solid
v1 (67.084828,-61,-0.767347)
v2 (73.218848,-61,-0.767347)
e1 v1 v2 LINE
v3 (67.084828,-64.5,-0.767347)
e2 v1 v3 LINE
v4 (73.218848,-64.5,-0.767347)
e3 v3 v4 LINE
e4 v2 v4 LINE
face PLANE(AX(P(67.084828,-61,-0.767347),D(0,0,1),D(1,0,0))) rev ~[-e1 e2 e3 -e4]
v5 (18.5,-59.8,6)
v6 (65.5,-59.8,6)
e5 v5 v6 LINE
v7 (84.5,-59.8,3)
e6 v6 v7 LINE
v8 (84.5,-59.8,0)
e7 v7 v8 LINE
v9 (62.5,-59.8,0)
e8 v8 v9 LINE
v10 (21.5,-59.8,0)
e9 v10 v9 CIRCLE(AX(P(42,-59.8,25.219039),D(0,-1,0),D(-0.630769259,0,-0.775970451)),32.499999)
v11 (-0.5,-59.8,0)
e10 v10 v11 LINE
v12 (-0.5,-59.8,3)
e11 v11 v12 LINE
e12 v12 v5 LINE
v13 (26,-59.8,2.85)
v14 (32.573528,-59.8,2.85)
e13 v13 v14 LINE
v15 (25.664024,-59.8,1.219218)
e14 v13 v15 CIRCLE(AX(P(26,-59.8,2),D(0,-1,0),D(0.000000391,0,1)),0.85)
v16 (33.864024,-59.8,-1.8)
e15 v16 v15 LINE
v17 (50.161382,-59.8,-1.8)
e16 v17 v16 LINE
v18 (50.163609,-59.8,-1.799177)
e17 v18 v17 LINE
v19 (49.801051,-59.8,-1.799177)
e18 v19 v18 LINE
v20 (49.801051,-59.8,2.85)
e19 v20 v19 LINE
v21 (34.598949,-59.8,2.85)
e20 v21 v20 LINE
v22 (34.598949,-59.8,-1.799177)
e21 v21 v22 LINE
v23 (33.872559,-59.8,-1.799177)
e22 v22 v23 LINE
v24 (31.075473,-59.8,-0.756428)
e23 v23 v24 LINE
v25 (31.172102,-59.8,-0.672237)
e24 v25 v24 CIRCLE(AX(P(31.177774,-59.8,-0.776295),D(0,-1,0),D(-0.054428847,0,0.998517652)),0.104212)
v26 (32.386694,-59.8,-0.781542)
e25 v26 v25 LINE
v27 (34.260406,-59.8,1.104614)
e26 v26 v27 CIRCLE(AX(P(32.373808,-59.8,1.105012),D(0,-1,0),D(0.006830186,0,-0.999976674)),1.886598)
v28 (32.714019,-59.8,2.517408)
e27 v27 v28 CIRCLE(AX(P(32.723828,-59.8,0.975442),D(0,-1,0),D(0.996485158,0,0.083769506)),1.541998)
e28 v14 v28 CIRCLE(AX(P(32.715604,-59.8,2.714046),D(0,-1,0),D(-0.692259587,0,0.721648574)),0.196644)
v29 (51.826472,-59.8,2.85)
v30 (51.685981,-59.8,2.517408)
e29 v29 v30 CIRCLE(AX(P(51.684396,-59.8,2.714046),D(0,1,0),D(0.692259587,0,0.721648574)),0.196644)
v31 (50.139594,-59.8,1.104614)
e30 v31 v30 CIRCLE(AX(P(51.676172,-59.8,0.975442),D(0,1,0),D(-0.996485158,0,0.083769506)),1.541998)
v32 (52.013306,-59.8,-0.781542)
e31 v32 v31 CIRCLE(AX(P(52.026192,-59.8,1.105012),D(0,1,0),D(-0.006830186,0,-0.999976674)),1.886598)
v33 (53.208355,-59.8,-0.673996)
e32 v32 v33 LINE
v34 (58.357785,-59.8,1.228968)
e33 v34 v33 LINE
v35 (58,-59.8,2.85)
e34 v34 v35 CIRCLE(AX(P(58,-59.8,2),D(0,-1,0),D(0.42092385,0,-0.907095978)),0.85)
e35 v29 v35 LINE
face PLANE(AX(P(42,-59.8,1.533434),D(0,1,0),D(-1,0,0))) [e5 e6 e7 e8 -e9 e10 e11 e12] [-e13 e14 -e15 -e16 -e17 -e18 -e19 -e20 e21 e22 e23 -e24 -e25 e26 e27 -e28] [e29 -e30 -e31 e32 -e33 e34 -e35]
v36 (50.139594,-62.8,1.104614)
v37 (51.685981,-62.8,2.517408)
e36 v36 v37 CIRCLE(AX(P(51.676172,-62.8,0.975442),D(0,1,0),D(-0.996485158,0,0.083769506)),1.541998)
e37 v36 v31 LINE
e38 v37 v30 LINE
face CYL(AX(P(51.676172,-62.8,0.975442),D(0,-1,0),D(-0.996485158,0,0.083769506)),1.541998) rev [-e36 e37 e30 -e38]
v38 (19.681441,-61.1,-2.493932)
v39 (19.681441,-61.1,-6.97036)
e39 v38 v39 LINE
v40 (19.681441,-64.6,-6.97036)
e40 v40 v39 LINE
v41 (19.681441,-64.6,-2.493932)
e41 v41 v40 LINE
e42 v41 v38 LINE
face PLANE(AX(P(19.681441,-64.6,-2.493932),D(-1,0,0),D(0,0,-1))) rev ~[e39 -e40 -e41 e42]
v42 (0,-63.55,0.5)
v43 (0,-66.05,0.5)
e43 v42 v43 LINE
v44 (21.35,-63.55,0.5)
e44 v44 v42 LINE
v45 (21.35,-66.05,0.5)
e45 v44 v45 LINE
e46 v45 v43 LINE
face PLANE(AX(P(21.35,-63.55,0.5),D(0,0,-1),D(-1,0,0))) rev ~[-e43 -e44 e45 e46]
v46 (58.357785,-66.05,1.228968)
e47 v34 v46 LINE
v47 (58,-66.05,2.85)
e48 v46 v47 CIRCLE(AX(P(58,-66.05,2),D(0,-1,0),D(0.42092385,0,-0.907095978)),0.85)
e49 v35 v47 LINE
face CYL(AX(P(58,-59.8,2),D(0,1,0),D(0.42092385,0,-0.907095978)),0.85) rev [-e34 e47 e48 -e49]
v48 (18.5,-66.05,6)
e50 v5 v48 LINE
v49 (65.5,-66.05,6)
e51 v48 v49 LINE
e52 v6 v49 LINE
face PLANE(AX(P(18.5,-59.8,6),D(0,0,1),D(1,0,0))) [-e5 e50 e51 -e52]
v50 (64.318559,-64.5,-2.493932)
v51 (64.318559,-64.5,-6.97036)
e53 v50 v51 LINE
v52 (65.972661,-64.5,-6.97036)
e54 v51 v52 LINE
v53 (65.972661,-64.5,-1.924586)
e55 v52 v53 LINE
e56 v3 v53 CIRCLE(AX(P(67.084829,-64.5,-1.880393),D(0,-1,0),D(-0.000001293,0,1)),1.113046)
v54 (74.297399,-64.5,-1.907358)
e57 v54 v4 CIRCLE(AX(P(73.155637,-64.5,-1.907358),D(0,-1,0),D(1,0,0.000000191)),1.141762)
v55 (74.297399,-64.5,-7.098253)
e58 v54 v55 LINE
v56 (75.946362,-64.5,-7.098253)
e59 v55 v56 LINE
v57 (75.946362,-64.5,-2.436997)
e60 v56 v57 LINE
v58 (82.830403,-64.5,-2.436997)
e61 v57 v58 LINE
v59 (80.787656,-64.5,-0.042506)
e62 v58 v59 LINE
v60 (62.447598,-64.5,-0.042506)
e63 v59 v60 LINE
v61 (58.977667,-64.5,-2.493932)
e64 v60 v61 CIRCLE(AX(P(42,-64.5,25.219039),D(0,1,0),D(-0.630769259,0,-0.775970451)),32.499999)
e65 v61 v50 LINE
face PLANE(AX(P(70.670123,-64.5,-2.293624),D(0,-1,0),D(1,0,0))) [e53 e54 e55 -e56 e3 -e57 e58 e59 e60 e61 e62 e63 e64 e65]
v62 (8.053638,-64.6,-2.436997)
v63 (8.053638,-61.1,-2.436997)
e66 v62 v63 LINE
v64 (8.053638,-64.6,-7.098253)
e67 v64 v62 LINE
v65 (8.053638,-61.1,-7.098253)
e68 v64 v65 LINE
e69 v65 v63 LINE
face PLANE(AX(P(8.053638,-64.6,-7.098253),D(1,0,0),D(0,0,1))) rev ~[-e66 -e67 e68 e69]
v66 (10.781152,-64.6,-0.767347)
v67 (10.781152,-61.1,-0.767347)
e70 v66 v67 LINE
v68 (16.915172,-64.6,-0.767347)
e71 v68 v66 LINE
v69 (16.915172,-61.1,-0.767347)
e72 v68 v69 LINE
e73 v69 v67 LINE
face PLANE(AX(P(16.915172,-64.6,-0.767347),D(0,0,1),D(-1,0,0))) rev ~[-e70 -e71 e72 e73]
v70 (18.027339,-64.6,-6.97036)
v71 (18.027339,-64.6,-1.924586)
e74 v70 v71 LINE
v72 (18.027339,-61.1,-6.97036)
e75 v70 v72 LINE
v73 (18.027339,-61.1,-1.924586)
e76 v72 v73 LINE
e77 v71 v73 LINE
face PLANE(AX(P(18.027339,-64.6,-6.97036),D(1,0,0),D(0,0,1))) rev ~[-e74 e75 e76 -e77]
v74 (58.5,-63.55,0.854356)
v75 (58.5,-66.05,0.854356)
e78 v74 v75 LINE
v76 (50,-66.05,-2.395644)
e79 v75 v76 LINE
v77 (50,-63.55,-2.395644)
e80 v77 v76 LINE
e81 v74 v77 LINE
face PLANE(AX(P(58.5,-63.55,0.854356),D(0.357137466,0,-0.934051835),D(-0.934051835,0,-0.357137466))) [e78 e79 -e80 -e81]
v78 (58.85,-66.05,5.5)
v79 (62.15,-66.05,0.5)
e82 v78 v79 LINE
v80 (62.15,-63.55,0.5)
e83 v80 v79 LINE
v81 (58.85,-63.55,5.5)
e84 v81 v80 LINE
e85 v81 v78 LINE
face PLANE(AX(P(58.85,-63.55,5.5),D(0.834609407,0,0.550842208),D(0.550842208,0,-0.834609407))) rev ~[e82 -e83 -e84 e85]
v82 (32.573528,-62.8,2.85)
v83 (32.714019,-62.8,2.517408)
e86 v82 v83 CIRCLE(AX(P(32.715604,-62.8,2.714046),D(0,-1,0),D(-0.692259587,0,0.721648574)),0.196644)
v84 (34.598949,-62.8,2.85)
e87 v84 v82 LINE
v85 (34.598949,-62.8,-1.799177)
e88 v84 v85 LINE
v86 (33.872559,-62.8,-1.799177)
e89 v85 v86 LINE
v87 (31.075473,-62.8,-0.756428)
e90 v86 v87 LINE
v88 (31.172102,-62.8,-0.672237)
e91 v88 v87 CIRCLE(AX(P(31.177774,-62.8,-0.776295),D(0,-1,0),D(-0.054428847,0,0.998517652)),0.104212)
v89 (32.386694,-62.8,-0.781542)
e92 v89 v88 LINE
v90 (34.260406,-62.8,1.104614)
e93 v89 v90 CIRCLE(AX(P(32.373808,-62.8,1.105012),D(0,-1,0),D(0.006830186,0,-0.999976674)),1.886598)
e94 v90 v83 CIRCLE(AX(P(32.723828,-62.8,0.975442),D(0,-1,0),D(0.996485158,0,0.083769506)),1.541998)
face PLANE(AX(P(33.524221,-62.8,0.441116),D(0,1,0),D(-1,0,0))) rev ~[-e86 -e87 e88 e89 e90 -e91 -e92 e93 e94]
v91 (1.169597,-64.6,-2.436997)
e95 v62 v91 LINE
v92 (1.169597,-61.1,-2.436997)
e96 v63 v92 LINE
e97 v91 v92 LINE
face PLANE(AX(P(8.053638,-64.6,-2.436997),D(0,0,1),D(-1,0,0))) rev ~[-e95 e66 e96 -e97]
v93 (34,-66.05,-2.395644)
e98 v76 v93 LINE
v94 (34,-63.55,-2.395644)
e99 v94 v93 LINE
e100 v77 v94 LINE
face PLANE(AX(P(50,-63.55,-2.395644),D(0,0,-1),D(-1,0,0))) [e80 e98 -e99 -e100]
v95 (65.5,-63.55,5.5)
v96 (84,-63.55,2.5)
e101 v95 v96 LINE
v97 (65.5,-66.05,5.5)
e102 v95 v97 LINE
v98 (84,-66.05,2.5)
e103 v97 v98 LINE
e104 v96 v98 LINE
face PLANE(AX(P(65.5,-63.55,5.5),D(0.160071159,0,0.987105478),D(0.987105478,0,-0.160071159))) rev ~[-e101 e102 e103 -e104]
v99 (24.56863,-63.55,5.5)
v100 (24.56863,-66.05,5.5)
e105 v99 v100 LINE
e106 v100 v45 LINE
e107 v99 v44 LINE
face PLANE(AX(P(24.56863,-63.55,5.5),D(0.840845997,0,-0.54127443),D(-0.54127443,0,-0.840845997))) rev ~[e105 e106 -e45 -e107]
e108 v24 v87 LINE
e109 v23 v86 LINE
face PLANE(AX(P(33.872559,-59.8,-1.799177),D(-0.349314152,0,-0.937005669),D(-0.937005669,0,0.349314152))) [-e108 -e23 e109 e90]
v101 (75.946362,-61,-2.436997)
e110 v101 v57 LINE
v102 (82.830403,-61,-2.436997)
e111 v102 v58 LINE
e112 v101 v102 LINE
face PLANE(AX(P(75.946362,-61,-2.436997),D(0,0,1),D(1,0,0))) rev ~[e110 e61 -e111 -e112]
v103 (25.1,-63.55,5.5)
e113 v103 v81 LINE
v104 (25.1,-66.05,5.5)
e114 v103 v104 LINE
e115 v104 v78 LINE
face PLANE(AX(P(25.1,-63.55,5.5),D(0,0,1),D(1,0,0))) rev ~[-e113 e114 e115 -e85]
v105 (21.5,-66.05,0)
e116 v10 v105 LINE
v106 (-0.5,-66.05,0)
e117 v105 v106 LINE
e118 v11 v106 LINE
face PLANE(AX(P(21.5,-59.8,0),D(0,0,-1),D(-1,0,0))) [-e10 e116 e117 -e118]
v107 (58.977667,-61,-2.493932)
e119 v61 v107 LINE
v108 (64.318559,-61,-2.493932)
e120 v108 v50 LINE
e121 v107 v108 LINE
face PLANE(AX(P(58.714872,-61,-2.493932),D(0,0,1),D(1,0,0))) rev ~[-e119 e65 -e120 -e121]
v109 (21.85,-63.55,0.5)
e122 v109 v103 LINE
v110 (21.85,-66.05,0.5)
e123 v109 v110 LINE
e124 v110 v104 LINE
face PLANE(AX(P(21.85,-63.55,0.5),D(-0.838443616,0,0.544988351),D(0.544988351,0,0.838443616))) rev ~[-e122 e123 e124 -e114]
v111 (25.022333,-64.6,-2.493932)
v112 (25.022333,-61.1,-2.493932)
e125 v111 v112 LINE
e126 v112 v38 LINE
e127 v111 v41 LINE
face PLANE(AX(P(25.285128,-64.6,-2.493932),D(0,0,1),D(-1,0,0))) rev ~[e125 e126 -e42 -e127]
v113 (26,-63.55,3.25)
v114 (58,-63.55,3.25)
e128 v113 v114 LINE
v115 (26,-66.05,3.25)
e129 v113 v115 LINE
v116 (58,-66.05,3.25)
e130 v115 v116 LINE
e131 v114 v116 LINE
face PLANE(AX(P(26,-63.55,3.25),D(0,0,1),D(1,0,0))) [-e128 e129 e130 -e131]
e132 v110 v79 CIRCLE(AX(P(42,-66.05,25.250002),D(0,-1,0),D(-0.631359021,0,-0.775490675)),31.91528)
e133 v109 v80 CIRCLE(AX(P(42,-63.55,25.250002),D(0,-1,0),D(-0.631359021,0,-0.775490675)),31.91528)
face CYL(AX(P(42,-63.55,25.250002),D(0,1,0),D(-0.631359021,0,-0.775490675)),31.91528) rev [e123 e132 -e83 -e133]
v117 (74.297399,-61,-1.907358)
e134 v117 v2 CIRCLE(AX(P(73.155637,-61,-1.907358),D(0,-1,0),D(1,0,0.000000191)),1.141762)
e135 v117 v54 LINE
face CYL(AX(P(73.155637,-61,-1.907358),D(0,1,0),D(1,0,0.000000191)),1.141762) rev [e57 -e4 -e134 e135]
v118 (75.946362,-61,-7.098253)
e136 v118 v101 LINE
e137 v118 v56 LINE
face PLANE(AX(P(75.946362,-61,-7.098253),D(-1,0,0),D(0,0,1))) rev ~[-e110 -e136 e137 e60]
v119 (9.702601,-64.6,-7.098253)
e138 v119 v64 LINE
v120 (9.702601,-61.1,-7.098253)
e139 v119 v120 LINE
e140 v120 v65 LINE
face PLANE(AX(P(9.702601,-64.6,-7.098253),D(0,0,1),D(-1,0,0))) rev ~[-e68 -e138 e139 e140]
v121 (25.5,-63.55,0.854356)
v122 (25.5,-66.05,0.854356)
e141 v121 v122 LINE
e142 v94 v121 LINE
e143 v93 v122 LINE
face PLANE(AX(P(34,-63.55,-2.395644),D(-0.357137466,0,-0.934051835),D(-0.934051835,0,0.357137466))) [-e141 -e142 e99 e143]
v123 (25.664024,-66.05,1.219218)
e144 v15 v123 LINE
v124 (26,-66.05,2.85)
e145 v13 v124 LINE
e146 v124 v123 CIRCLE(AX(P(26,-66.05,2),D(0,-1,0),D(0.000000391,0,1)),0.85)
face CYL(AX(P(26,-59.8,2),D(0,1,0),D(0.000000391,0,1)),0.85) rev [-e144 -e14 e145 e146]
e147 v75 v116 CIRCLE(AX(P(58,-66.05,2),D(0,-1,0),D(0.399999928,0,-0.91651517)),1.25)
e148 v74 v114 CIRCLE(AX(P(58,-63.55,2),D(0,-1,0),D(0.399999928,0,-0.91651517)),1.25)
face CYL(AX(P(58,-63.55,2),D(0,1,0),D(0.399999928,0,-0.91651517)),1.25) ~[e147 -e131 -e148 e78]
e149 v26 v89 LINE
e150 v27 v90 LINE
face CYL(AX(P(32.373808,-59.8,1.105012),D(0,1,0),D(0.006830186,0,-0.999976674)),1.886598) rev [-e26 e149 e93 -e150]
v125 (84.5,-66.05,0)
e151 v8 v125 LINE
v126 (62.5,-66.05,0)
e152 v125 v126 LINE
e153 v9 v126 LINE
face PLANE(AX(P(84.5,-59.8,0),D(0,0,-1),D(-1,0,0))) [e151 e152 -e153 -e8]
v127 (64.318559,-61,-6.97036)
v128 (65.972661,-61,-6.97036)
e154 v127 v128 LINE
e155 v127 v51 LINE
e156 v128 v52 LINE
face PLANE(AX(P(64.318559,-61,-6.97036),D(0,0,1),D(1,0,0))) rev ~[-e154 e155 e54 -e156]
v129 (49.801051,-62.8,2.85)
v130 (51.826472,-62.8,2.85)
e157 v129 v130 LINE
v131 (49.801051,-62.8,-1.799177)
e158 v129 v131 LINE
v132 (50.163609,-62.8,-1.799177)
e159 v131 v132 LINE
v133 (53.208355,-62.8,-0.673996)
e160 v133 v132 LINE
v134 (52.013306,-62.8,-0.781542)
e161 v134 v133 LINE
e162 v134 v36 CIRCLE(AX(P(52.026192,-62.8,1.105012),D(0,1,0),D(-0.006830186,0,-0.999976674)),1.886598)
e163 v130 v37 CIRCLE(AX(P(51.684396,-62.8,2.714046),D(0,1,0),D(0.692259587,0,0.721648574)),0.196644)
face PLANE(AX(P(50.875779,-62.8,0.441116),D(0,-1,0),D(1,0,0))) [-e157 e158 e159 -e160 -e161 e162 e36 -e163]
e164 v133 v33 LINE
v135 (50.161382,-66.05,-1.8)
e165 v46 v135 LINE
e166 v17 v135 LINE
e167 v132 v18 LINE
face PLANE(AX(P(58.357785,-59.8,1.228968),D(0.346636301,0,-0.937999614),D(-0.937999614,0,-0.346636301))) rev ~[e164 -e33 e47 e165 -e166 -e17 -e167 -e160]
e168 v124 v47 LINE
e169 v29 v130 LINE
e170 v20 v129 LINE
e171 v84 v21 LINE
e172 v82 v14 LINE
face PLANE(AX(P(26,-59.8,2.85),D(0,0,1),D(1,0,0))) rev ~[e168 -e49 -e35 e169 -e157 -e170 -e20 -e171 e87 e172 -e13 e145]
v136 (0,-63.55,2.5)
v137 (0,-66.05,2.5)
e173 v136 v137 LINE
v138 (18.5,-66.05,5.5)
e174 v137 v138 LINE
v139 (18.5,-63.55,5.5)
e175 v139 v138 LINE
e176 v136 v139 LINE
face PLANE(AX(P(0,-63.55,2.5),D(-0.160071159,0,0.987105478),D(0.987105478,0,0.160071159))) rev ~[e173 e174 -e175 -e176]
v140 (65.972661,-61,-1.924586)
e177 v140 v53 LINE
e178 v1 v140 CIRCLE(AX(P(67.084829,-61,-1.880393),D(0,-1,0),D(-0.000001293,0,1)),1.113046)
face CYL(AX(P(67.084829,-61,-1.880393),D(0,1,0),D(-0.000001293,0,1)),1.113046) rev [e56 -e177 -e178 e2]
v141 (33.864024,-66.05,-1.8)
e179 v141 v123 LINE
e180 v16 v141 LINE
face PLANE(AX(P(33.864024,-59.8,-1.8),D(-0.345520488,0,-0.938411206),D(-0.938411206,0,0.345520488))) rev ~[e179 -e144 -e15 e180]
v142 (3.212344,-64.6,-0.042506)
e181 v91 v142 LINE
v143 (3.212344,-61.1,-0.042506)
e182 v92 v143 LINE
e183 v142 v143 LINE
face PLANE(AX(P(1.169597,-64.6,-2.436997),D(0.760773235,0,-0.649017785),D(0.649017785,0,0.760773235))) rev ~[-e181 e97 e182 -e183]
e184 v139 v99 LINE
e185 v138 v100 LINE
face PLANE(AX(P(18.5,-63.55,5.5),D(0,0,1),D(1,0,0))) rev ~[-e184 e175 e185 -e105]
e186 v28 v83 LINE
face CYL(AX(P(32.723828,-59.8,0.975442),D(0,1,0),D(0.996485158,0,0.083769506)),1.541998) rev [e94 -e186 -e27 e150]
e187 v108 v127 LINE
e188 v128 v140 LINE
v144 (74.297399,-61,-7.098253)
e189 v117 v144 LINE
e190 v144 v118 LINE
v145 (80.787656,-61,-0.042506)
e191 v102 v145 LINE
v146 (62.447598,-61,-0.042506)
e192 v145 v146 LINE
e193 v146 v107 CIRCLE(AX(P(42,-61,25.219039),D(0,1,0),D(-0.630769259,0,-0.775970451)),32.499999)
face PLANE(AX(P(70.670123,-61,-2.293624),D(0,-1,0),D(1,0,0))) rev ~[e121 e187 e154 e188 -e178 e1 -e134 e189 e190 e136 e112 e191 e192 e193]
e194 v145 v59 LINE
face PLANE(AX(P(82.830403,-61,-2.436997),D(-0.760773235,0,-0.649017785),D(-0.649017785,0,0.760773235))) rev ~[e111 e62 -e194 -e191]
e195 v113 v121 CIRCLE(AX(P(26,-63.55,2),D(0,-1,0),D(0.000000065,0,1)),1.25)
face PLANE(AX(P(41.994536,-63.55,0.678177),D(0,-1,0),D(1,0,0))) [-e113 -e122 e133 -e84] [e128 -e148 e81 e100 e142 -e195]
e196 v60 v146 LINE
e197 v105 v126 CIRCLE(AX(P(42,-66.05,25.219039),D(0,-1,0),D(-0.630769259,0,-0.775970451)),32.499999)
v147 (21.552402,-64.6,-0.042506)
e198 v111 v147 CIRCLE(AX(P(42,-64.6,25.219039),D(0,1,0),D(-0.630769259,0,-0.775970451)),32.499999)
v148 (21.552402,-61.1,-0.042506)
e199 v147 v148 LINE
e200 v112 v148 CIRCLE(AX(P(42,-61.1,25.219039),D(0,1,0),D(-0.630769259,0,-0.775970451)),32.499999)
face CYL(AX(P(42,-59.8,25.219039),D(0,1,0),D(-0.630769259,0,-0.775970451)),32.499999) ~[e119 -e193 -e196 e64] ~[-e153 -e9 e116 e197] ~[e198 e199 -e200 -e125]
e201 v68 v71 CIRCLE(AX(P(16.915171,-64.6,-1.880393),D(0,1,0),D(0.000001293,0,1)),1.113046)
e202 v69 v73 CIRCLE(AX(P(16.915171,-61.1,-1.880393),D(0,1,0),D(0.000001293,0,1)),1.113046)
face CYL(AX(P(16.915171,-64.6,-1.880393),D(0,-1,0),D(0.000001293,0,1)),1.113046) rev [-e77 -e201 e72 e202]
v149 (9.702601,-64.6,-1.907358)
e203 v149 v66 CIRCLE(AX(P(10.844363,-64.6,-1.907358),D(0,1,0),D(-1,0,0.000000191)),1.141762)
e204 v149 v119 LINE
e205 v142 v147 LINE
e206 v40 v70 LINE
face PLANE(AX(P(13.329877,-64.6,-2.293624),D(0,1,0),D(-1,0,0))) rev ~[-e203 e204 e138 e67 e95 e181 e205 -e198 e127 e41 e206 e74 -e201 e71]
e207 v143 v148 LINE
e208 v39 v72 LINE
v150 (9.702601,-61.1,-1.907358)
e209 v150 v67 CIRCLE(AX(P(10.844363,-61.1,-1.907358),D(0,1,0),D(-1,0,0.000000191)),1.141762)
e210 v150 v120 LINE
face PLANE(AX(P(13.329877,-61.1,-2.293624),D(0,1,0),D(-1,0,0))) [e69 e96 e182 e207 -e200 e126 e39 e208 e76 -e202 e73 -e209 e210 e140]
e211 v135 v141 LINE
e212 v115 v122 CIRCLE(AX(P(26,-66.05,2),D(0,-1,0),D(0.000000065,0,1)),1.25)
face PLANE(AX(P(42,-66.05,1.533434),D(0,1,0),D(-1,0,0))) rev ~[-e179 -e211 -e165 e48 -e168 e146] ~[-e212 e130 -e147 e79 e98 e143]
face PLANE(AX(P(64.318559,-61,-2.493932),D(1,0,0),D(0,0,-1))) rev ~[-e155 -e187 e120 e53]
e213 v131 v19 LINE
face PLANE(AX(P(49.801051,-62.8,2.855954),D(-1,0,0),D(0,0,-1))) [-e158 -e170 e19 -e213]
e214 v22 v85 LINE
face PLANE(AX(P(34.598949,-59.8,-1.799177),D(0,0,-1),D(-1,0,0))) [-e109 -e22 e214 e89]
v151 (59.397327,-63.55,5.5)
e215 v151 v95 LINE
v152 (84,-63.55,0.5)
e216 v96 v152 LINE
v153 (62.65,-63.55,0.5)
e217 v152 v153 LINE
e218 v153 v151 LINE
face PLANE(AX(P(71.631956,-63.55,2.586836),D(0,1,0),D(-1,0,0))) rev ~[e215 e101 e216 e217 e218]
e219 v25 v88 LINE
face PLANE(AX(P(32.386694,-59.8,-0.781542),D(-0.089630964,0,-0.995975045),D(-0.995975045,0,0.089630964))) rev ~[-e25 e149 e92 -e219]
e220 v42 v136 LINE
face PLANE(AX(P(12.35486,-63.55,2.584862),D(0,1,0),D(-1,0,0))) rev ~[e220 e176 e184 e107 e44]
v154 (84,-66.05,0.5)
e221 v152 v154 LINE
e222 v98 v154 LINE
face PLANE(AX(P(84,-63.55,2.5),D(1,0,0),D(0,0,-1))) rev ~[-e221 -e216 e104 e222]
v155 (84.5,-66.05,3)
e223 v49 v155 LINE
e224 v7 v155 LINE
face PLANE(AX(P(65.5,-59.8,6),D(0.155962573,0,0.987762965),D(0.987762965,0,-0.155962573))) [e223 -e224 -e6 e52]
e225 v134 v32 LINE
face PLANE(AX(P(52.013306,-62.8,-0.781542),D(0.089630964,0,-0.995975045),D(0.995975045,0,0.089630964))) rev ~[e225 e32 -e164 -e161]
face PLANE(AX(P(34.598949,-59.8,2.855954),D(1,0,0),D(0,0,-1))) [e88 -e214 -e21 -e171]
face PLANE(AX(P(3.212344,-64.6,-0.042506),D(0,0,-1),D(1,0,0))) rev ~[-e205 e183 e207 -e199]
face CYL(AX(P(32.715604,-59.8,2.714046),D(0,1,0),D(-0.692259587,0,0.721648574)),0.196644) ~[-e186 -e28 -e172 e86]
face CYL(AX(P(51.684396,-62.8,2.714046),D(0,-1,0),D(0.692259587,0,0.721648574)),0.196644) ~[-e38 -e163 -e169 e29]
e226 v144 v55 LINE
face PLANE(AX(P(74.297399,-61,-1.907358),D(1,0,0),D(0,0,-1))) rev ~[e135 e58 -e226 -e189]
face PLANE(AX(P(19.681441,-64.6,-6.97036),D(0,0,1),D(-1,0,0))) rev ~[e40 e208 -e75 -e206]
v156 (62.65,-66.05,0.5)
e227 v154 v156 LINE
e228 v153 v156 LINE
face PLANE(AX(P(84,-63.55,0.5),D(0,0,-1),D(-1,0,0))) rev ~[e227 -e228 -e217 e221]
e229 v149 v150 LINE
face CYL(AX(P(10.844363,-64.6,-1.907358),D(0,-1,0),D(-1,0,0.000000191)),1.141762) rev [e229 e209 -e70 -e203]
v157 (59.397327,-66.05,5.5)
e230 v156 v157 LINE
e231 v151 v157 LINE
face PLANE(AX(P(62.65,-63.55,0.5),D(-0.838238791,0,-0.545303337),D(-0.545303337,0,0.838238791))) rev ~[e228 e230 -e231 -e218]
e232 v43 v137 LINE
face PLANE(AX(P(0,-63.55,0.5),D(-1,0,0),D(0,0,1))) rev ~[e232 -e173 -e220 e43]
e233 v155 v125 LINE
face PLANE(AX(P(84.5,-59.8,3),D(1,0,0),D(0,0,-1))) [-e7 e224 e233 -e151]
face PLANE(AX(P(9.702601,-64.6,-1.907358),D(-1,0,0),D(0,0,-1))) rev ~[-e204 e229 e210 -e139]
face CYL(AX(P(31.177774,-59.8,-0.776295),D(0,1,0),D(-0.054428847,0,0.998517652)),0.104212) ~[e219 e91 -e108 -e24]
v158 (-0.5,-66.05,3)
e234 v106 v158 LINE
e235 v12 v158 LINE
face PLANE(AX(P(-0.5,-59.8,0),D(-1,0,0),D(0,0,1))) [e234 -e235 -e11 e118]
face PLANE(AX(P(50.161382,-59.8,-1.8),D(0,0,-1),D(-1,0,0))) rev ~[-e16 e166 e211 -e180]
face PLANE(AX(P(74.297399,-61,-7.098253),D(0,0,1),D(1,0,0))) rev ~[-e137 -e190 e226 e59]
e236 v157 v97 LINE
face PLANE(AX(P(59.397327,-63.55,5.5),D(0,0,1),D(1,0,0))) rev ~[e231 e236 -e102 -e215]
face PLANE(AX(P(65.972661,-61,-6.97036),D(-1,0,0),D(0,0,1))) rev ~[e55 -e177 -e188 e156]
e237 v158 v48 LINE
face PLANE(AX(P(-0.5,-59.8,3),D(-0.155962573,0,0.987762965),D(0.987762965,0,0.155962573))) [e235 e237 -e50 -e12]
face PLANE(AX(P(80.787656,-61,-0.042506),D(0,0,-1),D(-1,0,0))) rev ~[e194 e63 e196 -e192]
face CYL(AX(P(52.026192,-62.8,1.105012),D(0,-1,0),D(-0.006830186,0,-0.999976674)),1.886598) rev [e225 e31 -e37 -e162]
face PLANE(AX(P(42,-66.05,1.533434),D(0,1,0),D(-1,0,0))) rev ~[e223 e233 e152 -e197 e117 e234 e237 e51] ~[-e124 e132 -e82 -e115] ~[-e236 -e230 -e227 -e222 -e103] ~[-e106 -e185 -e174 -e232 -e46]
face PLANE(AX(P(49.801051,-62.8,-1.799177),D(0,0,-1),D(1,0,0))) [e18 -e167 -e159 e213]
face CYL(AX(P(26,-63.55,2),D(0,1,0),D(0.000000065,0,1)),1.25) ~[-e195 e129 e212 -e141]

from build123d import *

# Parameters (mm, degrees)
EXTRUDE068_DEPTH           = 3
EXTRUDE068_PLACEMENT_ANGLE = 180
EXTRUDE067_DEPTH           = 3
EXTRUDE027_DEPTH           = 3.5
EXTRUDE034_DEPTH           = 3.5
EXTRUDE034_PLACEMENT_ANGLE = 180
EXTRUDE020_DEPTH           = 2.5
EXTRUDE019_DEPTH           = 6.25
CUT036_PLACEMENT_ANGLE     = 90


with BuildPart() as extrude068:
    # Sketch040 → Extrude068 (new body)
    with BuildSketch(Plane.XZ):
        with BuildLine():
            Line((32.579475, 2.855954), (34.598949, 2.855954))
            Line((34.598949, 2.855954), (34.598949, -1.799177))
            Line((34.598949, -1.799177), (33.872559, -1.799177))
            Line((33.872559, -1.799177), (31.075473, -0.756428))
            ThreePointArc((31.172102, -0.672237), (31.109316, -0.697722), (31.075473, -0.756428))
            Line((32.386694, -0.781542), (31.172102, -0.672237))
            ThreePointArc((32.386694, -0.781542), (33.712242, -0.224592), (34.260406, 1.104614))
            ThreePointArc((34.260406, 1.104614), (33.763902, 2.113863), (32.714019, 2.517408))
            ThreePointArc((32.579475, 2.855954), (32.532862, 2.641421), (32.714019, 2.517408))
        make_face()
    extrude(amount=EXTRUDE068_DEPTH)


with BuildPart() as extrude068_1:
    # Extrude068 placement: moved
    add(extrude068.part.moved(Location((84.4, -62.8, 0))).rotate(Axis((84.4, -62.8, 0), (0, 0, 1)), EXTRUDE068_PLACEMENT_ANGLE))


with BuildPart() as extrude067:
    # Sketch040 → Extrude067 (new body)
    with BuildSketch(Plane.XZ):
        with BuildLine():
            Line((32.579475, 2.855954), (34.598949, 2.855954))
            Line((34.598949, 2.855954), (34.598949, -1.799177))
            Line((34.598949, -1.799177), (33.872559, -1.799177))
            Line((33.872559, -1.799177), (31.075473, -0.756428))
            ThreePointArc((31.172102, -0.672237), (31.109316, -0.697722), (31.075473, -0.756428))
            Line((32.386694, -0.781542), (31.172102, -0.672237))
            ThreePointArc((32.386694, -0.781542), (33.712242, -0.224592), (34.260406, 1.104614))
            ThreePointArc((34.260406, 1.104614), (33.763902, 2.113863), (32.714019, 2.517408))
            ThreePointArc((32.579475, 2.855954), (32.532862, 2.641421), (32.714019, 2.517408))
        make_face()
    extrude(amount=EXTRUDE067_DEPTH)


with BuildPart() as extrude067_1:
    # Extrude067 placement: moved
    add(extrude067.part.moved(Location((0, -59.8, 0))))


with BuildPart() as extrude027:
    # Sketch019 → Extrude027 (new body)
    with BuildSketch(Plane.XZ):
        with BuildLine():
            Line((82.710403, -2.436997), (80.667656, -0.042506))
            Line((80.667656, -0.042506), (62.164684, -0.042506))
            Line((62.164684, -0.042506), (58.594872, -2.493932))
            Line((58.594872, -2.493932), (64.198559, -2.493932))
            Line((64.198559, -2.493932), (64.198559, -6.97036))
            Line((64.198559, -6.97036), (65.852661, -6.97036))
            Line((65.852661, -6.97036), (65.852661, -1.924586))
            ThreePointArc((66.964828, -0.767347), (66.162314, -1.109134), (65.852661, -1.924586))
            Line((66.964828, -0.767347), (73.098848, -0.767347))
            ThreePointArc((74.177399, -1.907358), (73.865032, -1.122677), (73.098848, -0.767347))
            Line((74.177399, -1.907358), (74.177399, -7.098253))
            Line((74.177399, -7.098253), (75.826362, -7.098253))
            Line((75.826362, -7.098253), (75.826362, -2.436997))
            Line((75.826362, -2.436997), (82.710403, -2.436997))
        make_face()
    extrude(amount=EXTRUDE027_DEPTH)


with BuildPart() as extrude027_1:
    # Extrude027 placement: moved
    add(extrude027.part.moved(Location((0.12, -61, 0))))


with BuildPart() as extrude034:
    # Sketch019 → Extrude034 (new body)
    with BuildSketch(Plane.XZ):
        with BuildLine():
            Line((82.710403, -2.436997), (80.667656, -0.042506))
            Line((80.667656, -0.042506), (62.164684, -0.042506))
            Line((62.164684, -0.042506), (58.594872, -2.493932))
            Line((58.594872, -2.493932), (64.198559, -2.493932))
            Line((64.198559, -2.493932), (64.198559, -6.97036))
            Line((64.198559, -6.97036), (65.852661, -6.97036))
            Line((65.852661, -6.97036), (65.852661, -1.924586))
            ThreePointArc((66.964828, -0.767347), (66.162314, -1.109134), (65.852661, -1.924586))
            Line((66.964828, -0.767347), (73.098848, -0.767347))
            ThreePointArc((74.177399, -1.907358), (73.865032, -1.122677), (73.098848, -0.767347))
            Line((74.177399, -1.907358), (74.177399, -7.098253))
            Line((74.177399, -7.098253), (75.826362, -7.098253))
            Line((75.826362, -7.098253), (75.826362, -2.436997))
            Line((75.826362, -2.436997), (82.710403, -2.436997))
        make_face()
    extrude(amount=EXTRUDE034_DEPTH)


with BuildPart() as extrude034_1:
    # Extrude034 placement: moved
    add(extrude034.part.moved(Location((83.88, -64.6, 0))).rotate(Axis((83.88, -64.6, 0), (0, 0, 1)), EXTRUDE034_PLACEMENT_ANGLE))


with BuildPart() as extrude020:
    # Sketch012 → Extrude020 (new body)
    with BuildSketch(Plane.XY):
        with BuildLine():
            ThreePointArc((22.35, 0.5), (42.5, -6.665278), (62.65, 0.5))
            Line((59.35, 5.5), (62.65, 0.5))
            Line((25.6, 5.5), (59.35, 5.5))
            Line((22.35, 0.5), (25.6, 5.5))
        make_face()
        with BuildLine():
            Line((26.5, 3.25), (58.5, 3.25))
            ThreePointArc((59, 0.854356), (59.723633, 2.255387), (58.5, 3.25))
            Line((59, 0.854356), (50.5, -2.395644))
            Line((50.5, -2.395644), (34.5, -2.395644))
            Line((34.5, -2.395644), (26, 0.854356))
            ThreePointArc((26.5, 3.25), (25.276367, 2.255387), (26, 0.854356))
        make_face(mode=Mode.SUBTRACT)
        Polygon((21.85, 0.5), (0.5, 0.5), (0.5, 2.5), (19, 5.5), (25.06863, 5.5), align=None)
        Polygon((63.15, 0.5), (59.897327, 5.5), (66, 5.5), (84.5, 2.5), (84.5, 0.5), align=None)
    extrude(amount=EXTRUDE020_DEPTH)


with BuildPart() as extrude020_1:
    # Extrude020 placement: moved
    add(extrude020.part.moved(Location((0, 0, 3.75))))


with BuildPart() as seitentraeger:
    # Sketch011 → Extrude019 (new body)
    with BuildSketch(Plane.XY):
        with BuildLine():
            Line((22, 0), (0, 0))
            Line((0, 0), (0, 3))
            Line((0, 3), (19, 6))
            Line((19, 6), (66, 6))
            Line((66, 6), (85, 3))
            Line((85, 3), (85, 0))
            Line((85, 0), (63, 0))
            ThreePointArc((22, 0), (42.5, -7.28096), (63, 0))
        make_face()
        with BuildLine():
            Line((26.5, 2.85), (58.5, 2.85))
            ThreePointArc((58.857785, 1.228968), (59.330023, 2.183198), (58.5, 2.85))
            Line((58.857785, 1.228968), (50.661382, -1.8))
            Line((50.661382, -1.8), (34.364024, -1.8))
            Line((34.364024, -1.8), (26.164024, 1.219218))
            ThreePointArc((26.5, 2.85), (25.667484, 2.171516), (26.164024, 1.219218))
        make_face(mode=Mode.SUBTRACT)
    extrude(amount=EXTRUDE019_DEPTH)

    # Cut036: cut Extrude020
    add(extrude020_1.part, mode=Mode.SUBTRACT)


with BuildPart() as seitentraeger_1:
    # Cut036 placement: moved
    add(seitentraeger.part.moved(Location((-0.5, -59.8, 0))).rotate(Axis((-0.5, -59.8, 0), (1, 0, 0)), CUT036_PLACEMENT_ANGLE))

    # Fusion034: union Extrude027, Extrude034
    add(extrude027_1.part)
    add(extrude034_1.part)

    # Fusion058: union Extrude068, Extrude067
    add(extrude068_1.part)
    add(extrude067_1.part)


solid = seitentraeger_1.part
